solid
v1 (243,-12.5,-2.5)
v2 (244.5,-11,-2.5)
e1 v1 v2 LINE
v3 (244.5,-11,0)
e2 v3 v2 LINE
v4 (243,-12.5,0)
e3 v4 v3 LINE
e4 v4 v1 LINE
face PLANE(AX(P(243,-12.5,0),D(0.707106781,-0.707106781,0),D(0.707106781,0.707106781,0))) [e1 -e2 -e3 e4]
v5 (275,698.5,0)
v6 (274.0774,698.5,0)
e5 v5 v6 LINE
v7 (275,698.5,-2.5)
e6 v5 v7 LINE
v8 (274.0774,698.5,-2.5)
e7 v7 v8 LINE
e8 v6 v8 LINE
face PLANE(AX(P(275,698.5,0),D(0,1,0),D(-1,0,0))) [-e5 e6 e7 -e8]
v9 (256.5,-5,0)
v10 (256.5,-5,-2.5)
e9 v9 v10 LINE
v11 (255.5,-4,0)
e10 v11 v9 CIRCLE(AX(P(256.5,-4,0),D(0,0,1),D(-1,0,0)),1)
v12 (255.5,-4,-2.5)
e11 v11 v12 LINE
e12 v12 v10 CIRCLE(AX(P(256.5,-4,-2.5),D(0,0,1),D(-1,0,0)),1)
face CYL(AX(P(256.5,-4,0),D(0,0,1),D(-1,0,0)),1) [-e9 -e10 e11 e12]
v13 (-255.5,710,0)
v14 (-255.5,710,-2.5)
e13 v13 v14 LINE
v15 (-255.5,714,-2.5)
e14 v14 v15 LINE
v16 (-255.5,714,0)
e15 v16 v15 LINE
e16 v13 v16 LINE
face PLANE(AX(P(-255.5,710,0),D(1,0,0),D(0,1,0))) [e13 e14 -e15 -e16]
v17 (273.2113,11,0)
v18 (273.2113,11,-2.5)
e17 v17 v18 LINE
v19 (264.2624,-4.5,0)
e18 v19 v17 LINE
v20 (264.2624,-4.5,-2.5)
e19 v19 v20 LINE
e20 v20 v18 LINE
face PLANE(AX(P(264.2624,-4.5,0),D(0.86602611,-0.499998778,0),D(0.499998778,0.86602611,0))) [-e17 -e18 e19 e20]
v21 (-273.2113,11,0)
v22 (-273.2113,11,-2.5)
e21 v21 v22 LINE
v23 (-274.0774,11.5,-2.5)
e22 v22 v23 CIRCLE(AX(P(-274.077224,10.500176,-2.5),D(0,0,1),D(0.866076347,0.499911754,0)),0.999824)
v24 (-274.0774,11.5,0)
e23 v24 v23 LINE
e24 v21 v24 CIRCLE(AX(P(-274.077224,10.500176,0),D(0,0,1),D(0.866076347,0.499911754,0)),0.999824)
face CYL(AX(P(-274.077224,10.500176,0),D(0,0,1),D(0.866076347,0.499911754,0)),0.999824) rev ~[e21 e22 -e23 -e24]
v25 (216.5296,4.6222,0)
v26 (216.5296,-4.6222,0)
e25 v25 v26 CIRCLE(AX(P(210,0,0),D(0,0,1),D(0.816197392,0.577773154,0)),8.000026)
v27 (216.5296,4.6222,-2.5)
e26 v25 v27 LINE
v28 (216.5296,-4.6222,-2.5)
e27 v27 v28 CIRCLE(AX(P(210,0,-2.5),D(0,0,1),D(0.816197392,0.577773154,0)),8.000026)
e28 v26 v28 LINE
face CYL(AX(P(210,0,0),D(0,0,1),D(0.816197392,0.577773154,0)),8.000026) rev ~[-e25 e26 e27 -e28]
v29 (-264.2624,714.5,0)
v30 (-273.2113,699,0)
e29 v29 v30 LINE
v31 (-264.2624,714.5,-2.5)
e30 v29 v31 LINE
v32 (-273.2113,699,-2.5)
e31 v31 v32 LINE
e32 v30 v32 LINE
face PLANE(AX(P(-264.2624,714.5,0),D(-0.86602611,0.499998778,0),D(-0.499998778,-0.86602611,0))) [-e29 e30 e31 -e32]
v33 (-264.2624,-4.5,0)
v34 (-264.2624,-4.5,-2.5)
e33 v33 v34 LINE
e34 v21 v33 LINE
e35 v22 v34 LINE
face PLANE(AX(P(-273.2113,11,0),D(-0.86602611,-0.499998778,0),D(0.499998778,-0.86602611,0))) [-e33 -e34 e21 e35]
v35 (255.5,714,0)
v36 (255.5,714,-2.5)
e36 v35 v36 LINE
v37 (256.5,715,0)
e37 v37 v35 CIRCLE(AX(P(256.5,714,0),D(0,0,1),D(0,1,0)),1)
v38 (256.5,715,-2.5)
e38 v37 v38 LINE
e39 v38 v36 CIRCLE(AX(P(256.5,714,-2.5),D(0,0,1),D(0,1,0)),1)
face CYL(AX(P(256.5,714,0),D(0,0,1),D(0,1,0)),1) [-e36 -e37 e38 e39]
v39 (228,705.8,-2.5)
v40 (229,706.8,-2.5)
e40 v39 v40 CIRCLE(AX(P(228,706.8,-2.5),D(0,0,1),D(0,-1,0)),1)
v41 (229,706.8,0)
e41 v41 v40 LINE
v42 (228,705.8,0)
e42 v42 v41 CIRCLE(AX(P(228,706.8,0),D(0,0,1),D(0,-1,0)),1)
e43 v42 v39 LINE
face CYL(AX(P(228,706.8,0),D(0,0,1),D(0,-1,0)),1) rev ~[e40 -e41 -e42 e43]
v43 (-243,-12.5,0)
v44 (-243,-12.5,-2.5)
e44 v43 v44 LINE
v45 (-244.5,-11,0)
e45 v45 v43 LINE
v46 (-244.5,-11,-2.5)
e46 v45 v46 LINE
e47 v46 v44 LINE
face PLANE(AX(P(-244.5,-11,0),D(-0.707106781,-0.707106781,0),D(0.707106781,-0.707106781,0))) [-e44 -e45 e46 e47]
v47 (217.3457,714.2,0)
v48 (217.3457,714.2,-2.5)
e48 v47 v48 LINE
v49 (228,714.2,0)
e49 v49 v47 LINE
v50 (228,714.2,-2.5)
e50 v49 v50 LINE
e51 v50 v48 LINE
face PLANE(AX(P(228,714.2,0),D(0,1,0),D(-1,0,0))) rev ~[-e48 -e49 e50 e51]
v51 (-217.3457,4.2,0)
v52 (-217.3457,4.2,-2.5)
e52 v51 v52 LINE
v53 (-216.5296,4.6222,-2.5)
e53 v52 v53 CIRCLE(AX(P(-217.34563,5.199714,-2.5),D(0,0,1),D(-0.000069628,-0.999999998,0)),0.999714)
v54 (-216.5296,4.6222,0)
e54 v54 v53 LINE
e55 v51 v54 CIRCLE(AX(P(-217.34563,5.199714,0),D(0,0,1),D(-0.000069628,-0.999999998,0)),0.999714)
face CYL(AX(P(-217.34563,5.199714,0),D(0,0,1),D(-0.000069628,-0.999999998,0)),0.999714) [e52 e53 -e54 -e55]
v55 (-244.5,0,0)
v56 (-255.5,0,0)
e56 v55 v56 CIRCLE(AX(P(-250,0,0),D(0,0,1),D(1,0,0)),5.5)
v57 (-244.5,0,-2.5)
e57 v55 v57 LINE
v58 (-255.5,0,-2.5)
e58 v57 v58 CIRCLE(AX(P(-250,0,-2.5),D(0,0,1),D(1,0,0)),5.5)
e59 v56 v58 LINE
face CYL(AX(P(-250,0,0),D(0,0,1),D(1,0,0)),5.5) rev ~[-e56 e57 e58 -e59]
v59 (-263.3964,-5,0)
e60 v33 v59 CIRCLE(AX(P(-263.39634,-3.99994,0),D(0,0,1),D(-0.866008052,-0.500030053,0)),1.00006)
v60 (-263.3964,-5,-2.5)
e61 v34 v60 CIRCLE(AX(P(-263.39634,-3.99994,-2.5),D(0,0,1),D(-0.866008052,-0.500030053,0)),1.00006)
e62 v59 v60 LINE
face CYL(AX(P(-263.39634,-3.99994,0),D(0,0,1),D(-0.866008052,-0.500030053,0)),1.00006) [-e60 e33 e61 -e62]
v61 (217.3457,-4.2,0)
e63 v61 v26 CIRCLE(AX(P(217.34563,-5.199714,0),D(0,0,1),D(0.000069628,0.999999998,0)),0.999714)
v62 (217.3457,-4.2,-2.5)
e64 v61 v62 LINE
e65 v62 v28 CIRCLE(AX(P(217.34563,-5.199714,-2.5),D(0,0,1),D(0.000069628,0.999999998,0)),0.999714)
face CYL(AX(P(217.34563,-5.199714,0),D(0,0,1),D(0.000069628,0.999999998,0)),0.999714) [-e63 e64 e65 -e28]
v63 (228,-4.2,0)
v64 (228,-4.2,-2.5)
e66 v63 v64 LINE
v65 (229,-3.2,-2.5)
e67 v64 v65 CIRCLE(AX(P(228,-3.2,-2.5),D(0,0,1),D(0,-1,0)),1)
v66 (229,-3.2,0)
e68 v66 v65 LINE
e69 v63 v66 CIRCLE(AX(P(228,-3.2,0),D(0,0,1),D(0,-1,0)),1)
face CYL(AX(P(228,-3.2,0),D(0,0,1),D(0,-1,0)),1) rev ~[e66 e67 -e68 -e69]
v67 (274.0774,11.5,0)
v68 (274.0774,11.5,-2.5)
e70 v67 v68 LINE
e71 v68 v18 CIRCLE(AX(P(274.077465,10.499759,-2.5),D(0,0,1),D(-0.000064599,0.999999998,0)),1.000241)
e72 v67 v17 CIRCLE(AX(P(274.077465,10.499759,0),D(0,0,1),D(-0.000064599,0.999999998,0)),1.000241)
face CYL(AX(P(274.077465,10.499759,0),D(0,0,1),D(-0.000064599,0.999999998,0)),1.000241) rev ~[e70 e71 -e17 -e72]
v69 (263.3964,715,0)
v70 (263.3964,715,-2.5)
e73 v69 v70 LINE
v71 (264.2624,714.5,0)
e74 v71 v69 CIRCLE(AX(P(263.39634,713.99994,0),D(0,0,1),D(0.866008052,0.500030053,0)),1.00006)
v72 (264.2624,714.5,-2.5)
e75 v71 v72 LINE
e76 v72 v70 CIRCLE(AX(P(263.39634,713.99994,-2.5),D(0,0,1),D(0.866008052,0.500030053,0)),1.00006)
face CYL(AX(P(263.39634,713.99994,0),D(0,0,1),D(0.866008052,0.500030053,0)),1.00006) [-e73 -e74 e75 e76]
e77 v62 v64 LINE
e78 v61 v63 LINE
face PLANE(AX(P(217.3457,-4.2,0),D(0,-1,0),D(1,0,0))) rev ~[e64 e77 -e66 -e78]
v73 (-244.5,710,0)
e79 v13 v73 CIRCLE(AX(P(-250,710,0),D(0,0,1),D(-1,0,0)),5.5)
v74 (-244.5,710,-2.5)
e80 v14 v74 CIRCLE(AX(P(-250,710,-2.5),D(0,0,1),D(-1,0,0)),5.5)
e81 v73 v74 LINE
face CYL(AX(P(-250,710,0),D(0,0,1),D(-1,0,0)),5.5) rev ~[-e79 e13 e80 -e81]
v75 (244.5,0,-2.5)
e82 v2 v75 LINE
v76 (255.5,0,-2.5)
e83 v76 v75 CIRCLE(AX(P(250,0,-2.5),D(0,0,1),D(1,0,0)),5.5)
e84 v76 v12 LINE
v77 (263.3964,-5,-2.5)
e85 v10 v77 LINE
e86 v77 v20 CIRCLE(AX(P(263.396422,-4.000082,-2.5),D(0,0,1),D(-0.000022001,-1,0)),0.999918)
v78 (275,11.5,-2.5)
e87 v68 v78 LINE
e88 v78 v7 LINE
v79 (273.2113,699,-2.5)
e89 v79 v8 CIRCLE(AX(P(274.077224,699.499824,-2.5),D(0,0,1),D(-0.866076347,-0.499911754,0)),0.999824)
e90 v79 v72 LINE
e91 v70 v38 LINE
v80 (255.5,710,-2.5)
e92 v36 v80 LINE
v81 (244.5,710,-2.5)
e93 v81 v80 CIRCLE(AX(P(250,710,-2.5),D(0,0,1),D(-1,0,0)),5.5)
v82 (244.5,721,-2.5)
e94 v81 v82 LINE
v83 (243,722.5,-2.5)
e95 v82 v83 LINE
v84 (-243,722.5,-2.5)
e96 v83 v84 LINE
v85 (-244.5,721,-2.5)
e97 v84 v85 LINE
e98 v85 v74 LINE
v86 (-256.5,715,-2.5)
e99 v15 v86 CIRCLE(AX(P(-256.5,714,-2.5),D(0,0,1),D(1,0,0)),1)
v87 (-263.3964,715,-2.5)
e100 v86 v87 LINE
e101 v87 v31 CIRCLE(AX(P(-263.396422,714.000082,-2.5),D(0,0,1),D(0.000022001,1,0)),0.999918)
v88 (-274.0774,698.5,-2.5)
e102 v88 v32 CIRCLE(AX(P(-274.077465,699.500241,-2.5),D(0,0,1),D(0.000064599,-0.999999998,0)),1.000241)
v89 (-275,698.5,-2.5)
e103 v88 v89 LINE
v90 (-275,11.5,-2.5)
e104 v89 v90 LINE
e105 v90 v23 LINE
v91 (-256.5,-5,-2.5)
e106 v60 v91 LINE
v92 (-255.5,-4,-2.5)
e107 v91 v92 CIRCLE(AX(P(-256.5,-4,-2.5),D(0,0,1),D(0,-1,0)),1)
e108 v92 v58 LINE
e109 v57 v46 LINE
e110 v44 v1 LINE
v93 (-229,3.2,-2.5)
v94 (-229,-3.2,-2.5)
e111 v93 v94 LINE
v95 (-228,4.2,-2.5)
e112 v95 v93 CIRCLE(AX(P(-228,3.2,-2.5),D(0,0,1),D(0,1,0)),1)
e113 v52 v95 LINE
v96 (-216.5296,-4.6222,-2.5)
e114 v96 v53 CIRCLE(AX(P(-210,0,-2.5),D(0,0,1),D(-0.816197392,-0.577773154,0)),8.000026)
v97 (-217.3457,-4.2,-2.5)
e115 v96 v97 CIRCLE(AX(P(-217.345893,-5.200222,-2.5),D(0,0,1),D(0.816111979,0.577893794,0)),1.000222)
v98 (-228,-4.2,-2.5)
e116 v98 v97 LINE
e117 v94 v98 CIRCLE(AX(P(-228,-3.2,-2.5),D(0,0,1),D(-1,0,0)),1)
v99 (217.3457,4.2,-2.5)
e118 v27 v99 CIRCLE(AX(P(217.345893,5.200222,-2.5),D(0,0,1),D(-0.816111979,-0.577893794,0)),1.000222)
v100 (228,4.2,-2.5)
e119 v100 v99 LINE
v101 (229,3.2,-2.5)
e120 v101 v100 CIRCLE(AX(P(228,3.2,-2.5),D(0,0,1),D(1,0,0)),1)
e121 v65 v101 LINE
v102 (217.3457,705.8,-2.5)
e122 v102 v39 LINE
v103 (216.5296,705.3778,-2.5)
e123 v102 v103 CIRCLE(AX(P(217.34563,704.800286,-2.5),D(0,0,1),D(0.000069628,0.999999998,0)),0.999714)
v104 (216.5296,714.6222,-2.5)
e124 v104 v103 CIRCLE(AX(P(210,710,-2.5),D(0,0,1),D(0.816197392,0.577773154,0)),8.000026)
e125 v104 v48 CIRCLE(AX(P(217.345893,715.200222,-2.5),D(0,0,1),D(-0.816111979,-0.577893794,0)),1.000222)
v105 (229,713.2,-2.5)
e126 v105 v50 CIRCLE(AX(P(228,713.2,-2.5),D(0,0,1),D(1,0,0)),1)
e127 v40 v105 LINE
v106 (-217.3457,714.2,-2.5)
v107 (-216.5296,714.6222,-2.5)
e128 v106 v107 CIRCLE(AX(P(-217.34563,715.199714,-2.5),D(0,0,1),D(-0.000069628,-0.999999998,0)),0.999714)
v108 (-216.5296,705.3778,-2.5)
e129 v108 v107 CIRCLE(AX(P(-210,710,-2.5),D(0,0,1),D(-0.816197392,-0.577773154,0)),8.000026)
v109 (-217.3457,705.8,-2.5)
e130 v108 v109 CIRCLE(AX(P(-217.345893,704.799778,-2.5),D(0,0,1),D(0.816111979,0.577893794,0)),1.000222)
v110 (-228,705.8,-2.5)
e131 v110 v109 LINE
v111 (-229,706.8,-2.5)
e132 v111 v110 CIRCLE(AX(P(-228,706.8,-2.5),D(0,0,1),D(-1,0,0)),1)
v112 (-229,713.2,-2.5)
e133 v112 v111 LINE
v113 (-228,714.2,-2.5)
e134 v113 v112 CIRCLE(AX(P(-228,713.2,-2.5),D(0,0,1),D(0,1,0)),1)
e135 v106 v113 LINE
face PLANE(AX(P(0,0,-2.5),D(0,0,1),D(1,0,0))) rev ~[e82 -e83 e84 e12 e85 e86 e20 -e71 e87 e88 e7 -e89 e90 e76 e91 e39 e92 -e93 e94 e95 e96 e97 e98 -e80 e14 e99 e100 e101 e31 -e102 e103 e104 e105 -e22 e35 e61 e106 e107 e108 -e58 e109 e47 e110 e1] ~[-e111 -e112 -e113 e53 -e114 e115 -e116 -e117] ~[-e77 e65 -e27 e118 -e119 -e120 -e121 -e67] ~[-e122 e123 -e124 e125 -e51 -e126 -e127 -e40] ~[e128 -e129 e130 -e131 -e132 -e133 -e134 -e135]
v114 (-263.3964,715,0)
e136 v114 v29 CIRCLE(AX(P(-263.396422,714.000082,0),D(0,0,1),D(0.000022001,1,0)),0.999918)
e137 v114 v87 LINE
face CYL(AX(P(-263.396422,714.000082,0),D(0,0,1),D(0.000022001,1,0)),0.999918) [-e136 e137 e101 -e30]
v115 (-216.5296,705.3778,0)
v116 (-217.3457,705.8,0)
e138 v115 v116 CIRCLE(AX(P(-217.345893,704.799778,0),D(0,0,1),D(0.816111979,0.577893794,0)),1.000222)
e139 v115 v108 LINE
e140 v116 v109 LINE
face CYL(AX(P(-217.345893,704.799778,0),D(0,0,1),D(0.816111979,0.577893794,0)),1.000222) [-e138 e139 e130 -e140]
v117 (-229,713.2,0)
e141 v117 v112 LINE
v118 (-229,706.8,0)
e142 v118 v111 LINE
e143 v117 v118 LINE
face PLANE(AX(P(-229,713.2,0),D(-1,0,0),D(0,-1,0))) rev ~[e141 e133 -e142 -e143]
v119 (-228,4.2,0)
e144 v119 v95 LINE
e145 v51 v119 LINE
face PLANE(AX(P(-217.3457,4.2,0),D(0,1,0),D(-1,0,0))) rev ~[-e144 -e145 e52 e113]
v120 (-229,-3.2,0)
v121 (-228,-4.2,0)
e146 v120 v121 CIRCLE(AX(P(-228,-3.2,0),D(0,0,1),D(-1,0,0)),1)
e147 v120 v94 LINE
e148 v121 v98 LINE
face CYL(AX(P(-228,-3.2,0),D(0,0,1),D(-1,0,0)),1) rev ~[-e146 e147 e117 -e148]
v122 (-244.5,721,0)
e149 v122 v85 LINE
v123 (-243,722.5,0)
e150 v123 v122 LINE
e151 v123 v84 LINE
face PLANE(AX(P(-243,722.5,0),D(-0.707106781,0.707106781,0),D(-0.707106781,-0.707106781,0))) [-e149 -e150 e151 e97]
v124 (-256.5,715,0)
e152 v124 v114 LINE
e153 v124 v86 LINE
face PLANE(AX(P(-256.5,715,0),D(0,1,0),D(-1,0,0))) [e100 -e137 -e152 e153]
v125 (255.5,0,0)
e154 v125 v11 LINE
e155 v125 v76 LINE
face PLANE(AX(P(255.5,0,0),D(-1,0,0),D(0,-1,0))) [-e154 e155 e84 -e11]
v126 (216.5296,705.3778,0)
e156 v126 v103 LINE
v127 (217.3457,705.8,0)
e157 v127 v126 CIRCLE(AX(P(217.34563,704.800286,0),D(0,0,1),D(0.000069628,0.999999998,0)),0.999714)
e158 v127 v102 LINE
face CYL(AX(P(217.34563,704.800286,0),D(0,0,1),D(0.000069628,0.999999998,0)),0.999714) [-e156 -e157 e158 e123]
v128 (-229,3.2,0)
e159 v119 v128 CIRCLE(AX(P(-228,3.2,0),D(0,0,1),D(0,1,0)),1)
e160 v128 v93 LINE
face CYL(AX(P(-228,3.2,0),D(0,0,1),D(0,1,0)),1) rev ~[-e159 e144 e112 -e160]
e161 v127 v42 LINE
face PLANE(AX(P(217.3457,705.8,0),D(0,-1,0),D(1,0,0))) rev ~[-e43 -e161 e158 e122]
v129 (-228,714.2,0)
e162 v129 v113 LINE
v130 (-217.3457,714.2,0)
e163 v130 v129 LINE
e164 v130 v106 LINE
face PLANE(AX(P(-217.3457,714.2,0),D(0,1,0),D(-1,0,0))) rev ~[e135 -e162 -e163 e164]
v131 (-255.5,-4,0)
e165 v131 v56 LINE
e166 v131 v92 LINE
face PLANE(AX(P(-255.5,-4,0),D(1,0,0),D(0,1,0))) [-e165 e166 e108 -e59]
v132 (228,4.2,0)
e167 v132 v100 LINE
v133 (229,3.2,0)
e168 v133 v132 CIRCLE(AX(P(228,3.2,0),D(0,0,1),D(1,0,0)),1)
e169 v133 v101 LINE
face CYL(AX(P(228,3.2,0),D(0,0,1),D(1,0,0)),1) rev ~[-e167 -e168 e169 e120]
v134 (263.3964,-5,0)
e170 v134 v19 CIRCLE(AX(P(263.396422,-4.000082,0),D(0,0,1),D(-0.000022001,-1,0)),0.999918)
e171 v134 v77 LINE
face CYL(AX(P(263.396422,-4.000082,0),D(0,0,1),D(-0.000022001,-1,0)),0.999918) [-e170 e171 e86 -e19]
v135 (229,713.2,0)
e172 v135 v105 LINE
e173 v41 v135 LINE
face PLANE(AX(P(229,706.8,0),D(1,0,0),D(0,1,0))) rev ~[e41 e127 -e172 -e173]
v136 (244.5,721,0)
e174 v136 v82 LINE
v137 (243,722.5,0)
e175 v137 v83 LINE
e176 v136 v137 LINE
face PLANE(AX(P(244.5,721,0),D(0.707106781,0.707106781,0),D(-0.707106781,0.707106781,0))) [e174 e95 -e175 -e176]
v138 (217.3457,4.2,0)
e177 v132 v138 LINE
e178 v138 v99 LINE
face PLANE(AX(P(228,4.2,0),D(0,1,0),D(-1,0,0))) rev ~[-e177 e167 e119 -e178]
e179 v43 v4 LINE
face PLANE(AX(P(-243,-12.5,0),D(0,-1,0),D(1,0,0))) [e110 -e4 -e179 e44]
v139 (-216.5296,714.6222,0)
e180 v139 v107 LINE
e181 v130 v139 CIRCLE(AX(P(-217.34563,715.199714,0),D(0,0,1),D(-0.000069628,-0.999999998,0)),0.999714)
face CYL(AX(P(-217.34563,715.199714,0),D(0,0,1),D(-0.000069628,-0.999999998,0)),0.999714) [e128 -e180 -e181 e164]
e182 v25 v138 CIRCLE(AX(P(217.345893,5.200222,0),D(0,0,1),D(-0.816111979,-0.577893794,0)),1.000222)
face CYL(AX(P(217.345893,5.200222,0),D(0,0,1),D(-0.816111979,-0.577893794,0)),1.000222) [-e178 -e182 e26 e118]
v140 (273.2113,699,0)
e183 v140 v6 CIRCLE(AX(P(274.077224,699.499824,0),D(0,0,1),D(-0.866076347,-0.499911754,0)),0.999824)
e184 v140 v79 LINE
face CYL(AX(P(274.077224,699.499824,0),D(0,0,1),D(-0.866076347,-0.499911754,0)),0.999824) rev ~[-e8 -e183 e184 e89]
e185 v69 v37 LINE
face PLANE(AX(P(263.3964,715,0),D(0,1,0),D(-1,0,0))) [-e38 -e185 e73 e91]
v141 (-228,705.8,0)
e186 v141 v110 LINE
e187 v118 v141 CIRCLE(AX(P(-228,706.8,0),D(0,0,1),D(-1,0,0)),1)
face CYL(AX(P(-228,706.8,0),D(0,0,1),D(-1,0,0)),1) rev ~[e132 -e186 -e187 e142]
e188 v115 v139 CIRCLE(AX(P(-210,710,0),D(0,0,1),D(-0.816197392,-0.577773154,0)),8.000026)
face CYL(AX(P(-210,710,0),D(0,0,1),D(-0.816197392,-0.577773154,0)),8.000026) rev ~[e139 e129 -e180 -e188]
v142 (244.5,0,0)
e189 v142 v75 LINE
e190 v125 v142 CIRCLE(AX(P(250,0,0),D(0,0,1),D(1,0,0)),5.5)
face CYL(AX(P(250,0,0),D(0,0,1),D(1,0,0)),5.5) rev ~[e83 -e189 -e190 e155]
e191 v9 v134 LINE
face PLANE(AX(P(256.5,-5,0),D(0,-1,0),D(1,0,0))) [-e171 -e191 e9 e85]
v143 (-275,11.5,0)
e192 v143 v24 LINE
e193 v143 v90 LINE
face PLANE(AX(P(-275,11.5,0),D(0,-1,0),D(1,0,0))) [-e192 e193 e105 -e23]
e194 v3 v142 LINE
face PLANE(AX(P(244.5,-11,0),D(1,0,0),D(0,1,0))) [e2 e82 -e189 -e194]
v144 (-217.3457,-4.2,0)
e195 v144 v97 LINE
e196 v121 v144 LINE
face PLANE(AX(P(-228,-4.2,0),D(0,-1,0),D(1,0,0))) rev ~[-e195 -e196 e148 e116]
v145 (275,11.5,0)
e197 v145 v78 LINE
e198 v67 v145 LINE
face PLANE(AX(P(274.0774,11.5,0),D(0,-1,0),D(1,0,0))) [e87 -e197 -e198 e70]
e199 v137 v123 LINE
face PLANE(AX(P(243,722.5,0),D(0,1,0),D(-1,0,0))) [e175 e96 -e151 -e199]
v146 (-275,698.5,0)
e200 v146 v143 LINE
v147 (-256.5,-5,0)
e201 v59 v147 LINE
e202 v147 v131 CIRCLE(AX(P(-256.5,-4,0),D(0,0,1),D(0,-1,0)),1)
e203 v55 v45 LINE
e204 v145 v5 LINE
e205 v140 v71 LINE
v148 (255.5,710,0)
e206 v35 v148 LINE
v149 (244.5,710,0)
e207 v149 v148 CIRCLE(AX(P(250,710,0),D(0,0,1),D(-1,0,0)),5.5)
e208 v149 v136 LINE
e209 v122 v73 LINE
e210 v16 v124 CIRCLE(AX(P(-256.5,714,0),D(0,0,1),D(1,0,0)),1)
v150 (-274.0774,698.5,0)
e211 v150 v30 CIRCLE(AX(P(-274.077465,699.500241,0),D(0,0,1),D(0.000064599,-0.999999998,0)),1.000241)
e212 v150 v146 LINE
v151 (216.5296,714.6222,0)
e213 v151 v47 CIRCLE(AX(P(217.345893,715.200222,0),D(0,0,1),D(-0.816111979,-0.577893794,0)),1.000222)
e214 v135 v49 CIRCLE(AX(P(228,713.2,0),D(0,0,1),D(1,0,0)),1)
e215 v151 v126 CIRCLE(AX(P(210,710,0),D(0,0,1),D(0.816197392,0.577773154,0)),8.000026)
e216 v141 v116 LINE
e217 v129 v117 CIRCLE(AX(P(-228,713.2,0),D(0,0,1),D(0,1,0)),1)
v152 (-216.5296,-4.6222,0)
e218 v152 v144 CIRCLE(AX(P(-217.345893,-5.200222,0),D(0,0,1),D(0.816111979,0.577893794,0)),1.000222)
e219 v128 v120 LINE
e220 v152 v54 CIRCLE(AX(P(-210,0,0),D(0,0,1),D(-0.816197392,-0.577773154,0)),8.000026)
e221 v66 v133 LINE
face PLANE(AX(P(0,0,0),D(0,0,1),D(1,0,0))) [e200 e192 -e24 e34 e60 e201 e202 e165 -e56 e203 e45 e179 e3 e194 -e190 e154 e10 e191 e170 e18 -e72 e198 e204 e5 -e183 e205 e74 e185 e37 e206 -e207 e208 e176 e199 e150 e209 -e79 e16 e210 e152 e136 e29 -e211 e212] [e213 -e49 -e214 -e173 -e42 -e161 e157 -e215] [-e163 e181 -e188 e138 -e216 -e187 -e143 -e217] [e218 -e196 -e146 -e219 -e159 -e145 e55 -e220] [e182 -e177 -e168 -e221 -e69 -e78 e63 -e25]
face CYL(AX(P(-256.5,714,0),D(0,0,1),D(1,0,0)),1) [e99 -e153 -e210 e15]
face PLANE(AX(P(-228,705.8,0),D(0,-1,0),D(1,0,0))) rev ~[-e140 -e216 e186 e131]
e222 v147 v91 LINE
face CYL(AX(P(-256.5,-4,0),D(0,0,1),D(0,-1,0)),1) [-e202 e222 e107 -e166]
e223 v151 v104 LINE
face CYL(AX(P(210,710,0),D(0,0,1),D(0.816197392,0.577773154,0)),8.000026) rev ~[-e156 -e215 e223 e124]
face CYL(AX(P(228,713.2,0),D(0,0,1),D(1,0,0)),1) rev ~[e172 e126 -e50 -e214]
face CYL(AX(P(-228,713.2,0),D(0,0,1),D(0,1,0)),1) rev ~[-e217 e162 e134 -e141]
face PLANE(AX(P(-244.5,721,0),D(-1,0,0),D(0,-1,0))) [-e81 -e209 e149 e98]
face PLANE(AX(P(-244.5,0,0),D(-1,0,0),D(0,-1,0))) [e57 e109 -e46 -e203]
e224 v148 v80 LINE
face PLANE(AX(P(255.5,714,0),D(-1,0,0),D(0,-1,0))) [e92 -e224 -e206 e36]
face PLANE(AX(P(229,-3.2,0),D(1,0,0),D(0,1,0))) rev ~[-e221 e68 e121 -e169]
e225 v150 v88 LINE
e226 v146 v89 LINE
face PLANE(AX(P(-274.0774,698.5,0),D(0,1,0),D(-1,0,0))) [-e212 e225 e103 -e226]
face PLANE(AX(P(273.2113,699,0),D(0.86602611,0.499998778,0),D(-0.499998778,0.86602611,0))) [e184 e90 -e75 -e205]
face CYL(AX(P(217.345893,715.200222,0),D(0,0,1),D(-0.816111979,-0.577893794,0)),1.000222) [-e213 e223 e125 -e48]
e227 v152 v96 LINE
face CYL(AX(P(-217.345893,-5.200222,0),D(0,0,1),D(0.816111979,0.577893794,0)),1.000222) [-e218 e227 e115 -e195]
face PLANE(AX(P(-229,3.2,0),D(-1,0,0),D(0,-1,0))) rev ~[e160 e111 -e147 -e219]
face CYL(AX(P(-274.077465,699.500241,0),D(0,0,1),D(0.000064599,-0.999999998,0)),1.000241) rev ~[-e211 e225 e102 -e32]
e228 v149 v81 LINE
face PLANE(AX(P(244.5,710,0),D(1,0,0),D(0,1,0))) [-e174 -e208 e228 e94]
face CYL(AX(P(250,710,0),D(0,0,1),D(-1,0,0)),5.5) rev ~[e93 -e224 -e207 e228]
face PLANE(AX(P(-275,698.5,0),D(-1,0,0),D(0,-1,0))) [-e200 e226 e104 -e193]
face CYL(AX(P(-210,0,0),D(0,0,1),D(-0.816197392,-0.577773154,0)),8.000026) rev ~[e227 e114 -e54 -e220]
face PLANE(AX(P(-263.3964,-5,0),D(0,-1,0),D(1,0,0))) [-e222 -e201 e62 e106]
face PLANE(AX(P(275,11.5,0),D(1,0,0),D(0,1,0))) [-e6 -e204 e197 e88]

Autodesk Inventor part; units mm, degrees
sketch "Sketch_11" plane through (0, 0, 0) normal (0, 0, 1) x (1, 0, 0)
  line L0 (-275, 698.5) -> (-275, 11.5)
  line L1 (-275, 11.5) -> (-274.0774, 11.5)
  arc A0 (-273.2113, 11) -> (-274.0774, 11.5) centre (-274.0774, 10.5) ccw
  line L2 (-273.2113, 11) -> (-264.2624, -4.5)
  arc A1 (-264.2624, -4.5) -> (-263.3964, -5) centre (-263.3964, -4) ccw
  line L3 (-263.3964, -5) -> (-256.5, -5)
  arc A2 (-256.5, -5) -> (-255.5, -4) centre (-256.5, -4) ccw
  line L4 (-255.5, -4) -> (-255.5, 0)
  arc A3 (-244.5, 0) -> (-255.5, 0) centre (-250, 0) ccw
  line L5 (-244.5, 0) -> (-244.5, -11)
  line L6 (-244.5, -11) -> (-243, -12.5)
  line L7 (-243, -12.5) -> (243, -12.5)
  line L8 (243, -12.5) -> (244.5, -11)
  line L9 (244.5, -11) -> (244.5, 0)
  arc A4 (255.5, 0) -> (244.5, 0) centre (250, 0) ccw
  line L10 (255.5, 0) -> (255.5, -4)
  arc A5 (255.5, -4) -> (256.5, -5) centre (256.5, -4) ccw
  line L11 (256.5, -5) -> (263.3964, -5)
  arc A6 (263.3964, -5) -> (264.2624, -4.5) centre (263.3964, -4) ccw
  line L12 (264.2624, -4.5) -> (273.2113, 11)
  arc A7 (274.0774, 11.5) -> (273.2113, 11) centre (274.0774, 10.5) ccw
  line L13 (274.0774, 11.5) -> (275, 11.5)
  line L14 (275, 11.5) -> (275, 698.5)
  line L15 (275, 698.5) -> (274.0774, 698.5)
  arc A8 (273.2113, 699) -> (274.0774, 698.5) centre (274.0774, 699.5) ccw
  line L16 (273.2113, 699) -> (264.2624, 714.5)
  arc A9 (264.2624, 714.5) -> (263.3964, 715) centre (263.3964, 714) ccw
  line L17 (263.3964, 715) -> (256.5, 715)
  arc A10 (256.5, 715) -> (255.5, 714) centre (256.5, 714) ccw
  line L18 (255.5, 714) -> (255.5, 710)
  arc A11 (244.5, 710) -> (255.5, 710) centre (250, 710) ccw
  line L19 (244.5, 710) -> (244.5, 721)
  line L20 (244.5, 721) -> (243, 722.5)
  line L21 (243, 722.5) -> (-243, 722.5)
  line L22 (-243, 722.5) -> (-244.5, 721)
  line L23 (-244.5, 721) -> (-244.5, 710)
  arc A12 (-255.5, 710) -> (-244.5, 710) centre (-250, 710) ccw
  line L24 (-255.5, 710) -> (-255.5, 714)
  arc A13 (-255.5, 714) -> (-256.5, 715) centre (-256.5, 714) ccw
  line L25 (-256.5, 715) -> (-263.3964, 715)
  arc A14 (-263.3964, 715) -> (-264.2624, 714.5) centre (-263.3964, 714) ccw
  line L26 (-264.2624, 714.5) -> (-273.2113, 699)
  arc A15 (-274.0774, 698.5) -> (-273.2113, 699) centre (-274.0774, 699.5) ccw
  line L27 (-274.0774, 698.5) -> (-275, 698.5)
  arc A16 (216.5296, 4.6222) -> (216.5296, -4.6222) centre (210, 0) ccw
  arc A17 (217.3457, -4.2) -> (216.5296, -4.6222) centre (217.3457, -5.2) ccw
  line L28 (217.3457, -4.2) -> (228, -4.2)
  arc A18 (228, -4.2) -> (229, -3.2) centre (228, -3.2) ccw
  line L29 (229, -3.2) -> (229, 3.2)
  arc A19 (229, 3.2) -> (228, 4.2) centre (228, 3.2) ccw
  line L30 (228, 4.2) -> (217.3457, 4.2)
  arc A20 (216.5296, 4.6222) -> (217.3457, 4.2) centre (217.3457, 5.2) ccw
  arc A21 (216.5296, 714.6222) -> (216.5296, 705.3778) centre (210, 710) ccw
  arc A22 (217.3457, 705.8) -> (216.5296, 705.3778) centre (217.3457, 704.8) ccw
  line L31 (217.3457, 705.8) -> (228, 705.8)
  arc A23 (228, 705.8) -> (229, 706.8) centre (228, 706.8) ccw
  line L32 (229, 706.8) -> (229, 713.2)
  arc A24 (229, 713.2) -> (228, 714.2) centre (228, 713.2) ccw
  line L33 (228, 714.2) -> (217.3457, 714.2)
  arc A25 (216.5296, 714.6222) -> (217.3457, 714.2) centre (217.3457, 715.2) ccw
  line L34 (-229, 3.2) -> (-229, -3.2)
  arc A26 (-229, -3.2) -> (-228, -4.2) centre (-228, -3.2) ccw
  line L35 (-228, -4.2) -> (-217.3457, -4.2)
  arc A27 (-216.5296, -4.6222) -> (-217.3457, -4.2) centre (-217.3457, -5.2) ccw
  arc A28 (-216.5296, -4.6222) -> (-216.5296, 4.6222) centre (-210, 0) ccw
  arc A29 (-217.3457, 4.2) -> (-216.5296, 4.6222) centre (-217.3457, 5.2) ccw
  line L36 (-217.3457, 4.2) -> (-228, 4.2)
  arc A30 (-228, 4.2) -> (-229, 3.2) centre (-228, 3.2) ccw
  arc A31 (-229, 706.8) -> (-228, 705.8) centre (-228, 706.8) ccw
  line L37 (-228, 705.8) -> (-217.3457, 705.8)
  arc A32 (-216.5296, 705.3778) -> (-217.3457, 705.8) centre (-217.3457, 704.8) ccw
  arc A33 (-216.5296, 705.3778) -> (-216.5296, 714.6222) centre (-210, 710) ccw
  arc A34 (-217.3457, 714.2) -> (-216.5296, 714.6222) centre (-217.3457, 715.2) ccw
  line L38 (-217.3457, 714.2) -> (-228, 714.2)
  arc A35 (-228, 714.2) -> (-229, 713.2) centre (-228, 713.2) ccw
  line L39 (-229, 713.2) -> (-229, 706.8)
extrude "Extrusion1" add sketch "Sketch_11" against normal blind 2.5
ref_plane "MP_XY" through (0, 0, 0) normal (0, 0, 1) x (1, 0, 0)
ref_plane "MP_YZ" through (0, 0, 0) normal (1, 0, 0) x (0, 1, 0)
ref_plane "MP_ZX" through (0, 0, 0) normal (0, 1, 0) x (0, 0, 1)
ref_plane "to_EB_XY" through (224.8, 0, -2.5) normal (0, 0, 1) x (1, 0, 0)
ref_plane "to_EB_YZ" through (224.8, 0, -2.5) normal (1, 0, 0) x (0, 1, 0)
ref_plane "to_EB_ZX" through (224.8, 0, -2.5) normal (0, 1, 0) x (0, 0, 1)
properties part number "CAD_MPL_1376.000"
